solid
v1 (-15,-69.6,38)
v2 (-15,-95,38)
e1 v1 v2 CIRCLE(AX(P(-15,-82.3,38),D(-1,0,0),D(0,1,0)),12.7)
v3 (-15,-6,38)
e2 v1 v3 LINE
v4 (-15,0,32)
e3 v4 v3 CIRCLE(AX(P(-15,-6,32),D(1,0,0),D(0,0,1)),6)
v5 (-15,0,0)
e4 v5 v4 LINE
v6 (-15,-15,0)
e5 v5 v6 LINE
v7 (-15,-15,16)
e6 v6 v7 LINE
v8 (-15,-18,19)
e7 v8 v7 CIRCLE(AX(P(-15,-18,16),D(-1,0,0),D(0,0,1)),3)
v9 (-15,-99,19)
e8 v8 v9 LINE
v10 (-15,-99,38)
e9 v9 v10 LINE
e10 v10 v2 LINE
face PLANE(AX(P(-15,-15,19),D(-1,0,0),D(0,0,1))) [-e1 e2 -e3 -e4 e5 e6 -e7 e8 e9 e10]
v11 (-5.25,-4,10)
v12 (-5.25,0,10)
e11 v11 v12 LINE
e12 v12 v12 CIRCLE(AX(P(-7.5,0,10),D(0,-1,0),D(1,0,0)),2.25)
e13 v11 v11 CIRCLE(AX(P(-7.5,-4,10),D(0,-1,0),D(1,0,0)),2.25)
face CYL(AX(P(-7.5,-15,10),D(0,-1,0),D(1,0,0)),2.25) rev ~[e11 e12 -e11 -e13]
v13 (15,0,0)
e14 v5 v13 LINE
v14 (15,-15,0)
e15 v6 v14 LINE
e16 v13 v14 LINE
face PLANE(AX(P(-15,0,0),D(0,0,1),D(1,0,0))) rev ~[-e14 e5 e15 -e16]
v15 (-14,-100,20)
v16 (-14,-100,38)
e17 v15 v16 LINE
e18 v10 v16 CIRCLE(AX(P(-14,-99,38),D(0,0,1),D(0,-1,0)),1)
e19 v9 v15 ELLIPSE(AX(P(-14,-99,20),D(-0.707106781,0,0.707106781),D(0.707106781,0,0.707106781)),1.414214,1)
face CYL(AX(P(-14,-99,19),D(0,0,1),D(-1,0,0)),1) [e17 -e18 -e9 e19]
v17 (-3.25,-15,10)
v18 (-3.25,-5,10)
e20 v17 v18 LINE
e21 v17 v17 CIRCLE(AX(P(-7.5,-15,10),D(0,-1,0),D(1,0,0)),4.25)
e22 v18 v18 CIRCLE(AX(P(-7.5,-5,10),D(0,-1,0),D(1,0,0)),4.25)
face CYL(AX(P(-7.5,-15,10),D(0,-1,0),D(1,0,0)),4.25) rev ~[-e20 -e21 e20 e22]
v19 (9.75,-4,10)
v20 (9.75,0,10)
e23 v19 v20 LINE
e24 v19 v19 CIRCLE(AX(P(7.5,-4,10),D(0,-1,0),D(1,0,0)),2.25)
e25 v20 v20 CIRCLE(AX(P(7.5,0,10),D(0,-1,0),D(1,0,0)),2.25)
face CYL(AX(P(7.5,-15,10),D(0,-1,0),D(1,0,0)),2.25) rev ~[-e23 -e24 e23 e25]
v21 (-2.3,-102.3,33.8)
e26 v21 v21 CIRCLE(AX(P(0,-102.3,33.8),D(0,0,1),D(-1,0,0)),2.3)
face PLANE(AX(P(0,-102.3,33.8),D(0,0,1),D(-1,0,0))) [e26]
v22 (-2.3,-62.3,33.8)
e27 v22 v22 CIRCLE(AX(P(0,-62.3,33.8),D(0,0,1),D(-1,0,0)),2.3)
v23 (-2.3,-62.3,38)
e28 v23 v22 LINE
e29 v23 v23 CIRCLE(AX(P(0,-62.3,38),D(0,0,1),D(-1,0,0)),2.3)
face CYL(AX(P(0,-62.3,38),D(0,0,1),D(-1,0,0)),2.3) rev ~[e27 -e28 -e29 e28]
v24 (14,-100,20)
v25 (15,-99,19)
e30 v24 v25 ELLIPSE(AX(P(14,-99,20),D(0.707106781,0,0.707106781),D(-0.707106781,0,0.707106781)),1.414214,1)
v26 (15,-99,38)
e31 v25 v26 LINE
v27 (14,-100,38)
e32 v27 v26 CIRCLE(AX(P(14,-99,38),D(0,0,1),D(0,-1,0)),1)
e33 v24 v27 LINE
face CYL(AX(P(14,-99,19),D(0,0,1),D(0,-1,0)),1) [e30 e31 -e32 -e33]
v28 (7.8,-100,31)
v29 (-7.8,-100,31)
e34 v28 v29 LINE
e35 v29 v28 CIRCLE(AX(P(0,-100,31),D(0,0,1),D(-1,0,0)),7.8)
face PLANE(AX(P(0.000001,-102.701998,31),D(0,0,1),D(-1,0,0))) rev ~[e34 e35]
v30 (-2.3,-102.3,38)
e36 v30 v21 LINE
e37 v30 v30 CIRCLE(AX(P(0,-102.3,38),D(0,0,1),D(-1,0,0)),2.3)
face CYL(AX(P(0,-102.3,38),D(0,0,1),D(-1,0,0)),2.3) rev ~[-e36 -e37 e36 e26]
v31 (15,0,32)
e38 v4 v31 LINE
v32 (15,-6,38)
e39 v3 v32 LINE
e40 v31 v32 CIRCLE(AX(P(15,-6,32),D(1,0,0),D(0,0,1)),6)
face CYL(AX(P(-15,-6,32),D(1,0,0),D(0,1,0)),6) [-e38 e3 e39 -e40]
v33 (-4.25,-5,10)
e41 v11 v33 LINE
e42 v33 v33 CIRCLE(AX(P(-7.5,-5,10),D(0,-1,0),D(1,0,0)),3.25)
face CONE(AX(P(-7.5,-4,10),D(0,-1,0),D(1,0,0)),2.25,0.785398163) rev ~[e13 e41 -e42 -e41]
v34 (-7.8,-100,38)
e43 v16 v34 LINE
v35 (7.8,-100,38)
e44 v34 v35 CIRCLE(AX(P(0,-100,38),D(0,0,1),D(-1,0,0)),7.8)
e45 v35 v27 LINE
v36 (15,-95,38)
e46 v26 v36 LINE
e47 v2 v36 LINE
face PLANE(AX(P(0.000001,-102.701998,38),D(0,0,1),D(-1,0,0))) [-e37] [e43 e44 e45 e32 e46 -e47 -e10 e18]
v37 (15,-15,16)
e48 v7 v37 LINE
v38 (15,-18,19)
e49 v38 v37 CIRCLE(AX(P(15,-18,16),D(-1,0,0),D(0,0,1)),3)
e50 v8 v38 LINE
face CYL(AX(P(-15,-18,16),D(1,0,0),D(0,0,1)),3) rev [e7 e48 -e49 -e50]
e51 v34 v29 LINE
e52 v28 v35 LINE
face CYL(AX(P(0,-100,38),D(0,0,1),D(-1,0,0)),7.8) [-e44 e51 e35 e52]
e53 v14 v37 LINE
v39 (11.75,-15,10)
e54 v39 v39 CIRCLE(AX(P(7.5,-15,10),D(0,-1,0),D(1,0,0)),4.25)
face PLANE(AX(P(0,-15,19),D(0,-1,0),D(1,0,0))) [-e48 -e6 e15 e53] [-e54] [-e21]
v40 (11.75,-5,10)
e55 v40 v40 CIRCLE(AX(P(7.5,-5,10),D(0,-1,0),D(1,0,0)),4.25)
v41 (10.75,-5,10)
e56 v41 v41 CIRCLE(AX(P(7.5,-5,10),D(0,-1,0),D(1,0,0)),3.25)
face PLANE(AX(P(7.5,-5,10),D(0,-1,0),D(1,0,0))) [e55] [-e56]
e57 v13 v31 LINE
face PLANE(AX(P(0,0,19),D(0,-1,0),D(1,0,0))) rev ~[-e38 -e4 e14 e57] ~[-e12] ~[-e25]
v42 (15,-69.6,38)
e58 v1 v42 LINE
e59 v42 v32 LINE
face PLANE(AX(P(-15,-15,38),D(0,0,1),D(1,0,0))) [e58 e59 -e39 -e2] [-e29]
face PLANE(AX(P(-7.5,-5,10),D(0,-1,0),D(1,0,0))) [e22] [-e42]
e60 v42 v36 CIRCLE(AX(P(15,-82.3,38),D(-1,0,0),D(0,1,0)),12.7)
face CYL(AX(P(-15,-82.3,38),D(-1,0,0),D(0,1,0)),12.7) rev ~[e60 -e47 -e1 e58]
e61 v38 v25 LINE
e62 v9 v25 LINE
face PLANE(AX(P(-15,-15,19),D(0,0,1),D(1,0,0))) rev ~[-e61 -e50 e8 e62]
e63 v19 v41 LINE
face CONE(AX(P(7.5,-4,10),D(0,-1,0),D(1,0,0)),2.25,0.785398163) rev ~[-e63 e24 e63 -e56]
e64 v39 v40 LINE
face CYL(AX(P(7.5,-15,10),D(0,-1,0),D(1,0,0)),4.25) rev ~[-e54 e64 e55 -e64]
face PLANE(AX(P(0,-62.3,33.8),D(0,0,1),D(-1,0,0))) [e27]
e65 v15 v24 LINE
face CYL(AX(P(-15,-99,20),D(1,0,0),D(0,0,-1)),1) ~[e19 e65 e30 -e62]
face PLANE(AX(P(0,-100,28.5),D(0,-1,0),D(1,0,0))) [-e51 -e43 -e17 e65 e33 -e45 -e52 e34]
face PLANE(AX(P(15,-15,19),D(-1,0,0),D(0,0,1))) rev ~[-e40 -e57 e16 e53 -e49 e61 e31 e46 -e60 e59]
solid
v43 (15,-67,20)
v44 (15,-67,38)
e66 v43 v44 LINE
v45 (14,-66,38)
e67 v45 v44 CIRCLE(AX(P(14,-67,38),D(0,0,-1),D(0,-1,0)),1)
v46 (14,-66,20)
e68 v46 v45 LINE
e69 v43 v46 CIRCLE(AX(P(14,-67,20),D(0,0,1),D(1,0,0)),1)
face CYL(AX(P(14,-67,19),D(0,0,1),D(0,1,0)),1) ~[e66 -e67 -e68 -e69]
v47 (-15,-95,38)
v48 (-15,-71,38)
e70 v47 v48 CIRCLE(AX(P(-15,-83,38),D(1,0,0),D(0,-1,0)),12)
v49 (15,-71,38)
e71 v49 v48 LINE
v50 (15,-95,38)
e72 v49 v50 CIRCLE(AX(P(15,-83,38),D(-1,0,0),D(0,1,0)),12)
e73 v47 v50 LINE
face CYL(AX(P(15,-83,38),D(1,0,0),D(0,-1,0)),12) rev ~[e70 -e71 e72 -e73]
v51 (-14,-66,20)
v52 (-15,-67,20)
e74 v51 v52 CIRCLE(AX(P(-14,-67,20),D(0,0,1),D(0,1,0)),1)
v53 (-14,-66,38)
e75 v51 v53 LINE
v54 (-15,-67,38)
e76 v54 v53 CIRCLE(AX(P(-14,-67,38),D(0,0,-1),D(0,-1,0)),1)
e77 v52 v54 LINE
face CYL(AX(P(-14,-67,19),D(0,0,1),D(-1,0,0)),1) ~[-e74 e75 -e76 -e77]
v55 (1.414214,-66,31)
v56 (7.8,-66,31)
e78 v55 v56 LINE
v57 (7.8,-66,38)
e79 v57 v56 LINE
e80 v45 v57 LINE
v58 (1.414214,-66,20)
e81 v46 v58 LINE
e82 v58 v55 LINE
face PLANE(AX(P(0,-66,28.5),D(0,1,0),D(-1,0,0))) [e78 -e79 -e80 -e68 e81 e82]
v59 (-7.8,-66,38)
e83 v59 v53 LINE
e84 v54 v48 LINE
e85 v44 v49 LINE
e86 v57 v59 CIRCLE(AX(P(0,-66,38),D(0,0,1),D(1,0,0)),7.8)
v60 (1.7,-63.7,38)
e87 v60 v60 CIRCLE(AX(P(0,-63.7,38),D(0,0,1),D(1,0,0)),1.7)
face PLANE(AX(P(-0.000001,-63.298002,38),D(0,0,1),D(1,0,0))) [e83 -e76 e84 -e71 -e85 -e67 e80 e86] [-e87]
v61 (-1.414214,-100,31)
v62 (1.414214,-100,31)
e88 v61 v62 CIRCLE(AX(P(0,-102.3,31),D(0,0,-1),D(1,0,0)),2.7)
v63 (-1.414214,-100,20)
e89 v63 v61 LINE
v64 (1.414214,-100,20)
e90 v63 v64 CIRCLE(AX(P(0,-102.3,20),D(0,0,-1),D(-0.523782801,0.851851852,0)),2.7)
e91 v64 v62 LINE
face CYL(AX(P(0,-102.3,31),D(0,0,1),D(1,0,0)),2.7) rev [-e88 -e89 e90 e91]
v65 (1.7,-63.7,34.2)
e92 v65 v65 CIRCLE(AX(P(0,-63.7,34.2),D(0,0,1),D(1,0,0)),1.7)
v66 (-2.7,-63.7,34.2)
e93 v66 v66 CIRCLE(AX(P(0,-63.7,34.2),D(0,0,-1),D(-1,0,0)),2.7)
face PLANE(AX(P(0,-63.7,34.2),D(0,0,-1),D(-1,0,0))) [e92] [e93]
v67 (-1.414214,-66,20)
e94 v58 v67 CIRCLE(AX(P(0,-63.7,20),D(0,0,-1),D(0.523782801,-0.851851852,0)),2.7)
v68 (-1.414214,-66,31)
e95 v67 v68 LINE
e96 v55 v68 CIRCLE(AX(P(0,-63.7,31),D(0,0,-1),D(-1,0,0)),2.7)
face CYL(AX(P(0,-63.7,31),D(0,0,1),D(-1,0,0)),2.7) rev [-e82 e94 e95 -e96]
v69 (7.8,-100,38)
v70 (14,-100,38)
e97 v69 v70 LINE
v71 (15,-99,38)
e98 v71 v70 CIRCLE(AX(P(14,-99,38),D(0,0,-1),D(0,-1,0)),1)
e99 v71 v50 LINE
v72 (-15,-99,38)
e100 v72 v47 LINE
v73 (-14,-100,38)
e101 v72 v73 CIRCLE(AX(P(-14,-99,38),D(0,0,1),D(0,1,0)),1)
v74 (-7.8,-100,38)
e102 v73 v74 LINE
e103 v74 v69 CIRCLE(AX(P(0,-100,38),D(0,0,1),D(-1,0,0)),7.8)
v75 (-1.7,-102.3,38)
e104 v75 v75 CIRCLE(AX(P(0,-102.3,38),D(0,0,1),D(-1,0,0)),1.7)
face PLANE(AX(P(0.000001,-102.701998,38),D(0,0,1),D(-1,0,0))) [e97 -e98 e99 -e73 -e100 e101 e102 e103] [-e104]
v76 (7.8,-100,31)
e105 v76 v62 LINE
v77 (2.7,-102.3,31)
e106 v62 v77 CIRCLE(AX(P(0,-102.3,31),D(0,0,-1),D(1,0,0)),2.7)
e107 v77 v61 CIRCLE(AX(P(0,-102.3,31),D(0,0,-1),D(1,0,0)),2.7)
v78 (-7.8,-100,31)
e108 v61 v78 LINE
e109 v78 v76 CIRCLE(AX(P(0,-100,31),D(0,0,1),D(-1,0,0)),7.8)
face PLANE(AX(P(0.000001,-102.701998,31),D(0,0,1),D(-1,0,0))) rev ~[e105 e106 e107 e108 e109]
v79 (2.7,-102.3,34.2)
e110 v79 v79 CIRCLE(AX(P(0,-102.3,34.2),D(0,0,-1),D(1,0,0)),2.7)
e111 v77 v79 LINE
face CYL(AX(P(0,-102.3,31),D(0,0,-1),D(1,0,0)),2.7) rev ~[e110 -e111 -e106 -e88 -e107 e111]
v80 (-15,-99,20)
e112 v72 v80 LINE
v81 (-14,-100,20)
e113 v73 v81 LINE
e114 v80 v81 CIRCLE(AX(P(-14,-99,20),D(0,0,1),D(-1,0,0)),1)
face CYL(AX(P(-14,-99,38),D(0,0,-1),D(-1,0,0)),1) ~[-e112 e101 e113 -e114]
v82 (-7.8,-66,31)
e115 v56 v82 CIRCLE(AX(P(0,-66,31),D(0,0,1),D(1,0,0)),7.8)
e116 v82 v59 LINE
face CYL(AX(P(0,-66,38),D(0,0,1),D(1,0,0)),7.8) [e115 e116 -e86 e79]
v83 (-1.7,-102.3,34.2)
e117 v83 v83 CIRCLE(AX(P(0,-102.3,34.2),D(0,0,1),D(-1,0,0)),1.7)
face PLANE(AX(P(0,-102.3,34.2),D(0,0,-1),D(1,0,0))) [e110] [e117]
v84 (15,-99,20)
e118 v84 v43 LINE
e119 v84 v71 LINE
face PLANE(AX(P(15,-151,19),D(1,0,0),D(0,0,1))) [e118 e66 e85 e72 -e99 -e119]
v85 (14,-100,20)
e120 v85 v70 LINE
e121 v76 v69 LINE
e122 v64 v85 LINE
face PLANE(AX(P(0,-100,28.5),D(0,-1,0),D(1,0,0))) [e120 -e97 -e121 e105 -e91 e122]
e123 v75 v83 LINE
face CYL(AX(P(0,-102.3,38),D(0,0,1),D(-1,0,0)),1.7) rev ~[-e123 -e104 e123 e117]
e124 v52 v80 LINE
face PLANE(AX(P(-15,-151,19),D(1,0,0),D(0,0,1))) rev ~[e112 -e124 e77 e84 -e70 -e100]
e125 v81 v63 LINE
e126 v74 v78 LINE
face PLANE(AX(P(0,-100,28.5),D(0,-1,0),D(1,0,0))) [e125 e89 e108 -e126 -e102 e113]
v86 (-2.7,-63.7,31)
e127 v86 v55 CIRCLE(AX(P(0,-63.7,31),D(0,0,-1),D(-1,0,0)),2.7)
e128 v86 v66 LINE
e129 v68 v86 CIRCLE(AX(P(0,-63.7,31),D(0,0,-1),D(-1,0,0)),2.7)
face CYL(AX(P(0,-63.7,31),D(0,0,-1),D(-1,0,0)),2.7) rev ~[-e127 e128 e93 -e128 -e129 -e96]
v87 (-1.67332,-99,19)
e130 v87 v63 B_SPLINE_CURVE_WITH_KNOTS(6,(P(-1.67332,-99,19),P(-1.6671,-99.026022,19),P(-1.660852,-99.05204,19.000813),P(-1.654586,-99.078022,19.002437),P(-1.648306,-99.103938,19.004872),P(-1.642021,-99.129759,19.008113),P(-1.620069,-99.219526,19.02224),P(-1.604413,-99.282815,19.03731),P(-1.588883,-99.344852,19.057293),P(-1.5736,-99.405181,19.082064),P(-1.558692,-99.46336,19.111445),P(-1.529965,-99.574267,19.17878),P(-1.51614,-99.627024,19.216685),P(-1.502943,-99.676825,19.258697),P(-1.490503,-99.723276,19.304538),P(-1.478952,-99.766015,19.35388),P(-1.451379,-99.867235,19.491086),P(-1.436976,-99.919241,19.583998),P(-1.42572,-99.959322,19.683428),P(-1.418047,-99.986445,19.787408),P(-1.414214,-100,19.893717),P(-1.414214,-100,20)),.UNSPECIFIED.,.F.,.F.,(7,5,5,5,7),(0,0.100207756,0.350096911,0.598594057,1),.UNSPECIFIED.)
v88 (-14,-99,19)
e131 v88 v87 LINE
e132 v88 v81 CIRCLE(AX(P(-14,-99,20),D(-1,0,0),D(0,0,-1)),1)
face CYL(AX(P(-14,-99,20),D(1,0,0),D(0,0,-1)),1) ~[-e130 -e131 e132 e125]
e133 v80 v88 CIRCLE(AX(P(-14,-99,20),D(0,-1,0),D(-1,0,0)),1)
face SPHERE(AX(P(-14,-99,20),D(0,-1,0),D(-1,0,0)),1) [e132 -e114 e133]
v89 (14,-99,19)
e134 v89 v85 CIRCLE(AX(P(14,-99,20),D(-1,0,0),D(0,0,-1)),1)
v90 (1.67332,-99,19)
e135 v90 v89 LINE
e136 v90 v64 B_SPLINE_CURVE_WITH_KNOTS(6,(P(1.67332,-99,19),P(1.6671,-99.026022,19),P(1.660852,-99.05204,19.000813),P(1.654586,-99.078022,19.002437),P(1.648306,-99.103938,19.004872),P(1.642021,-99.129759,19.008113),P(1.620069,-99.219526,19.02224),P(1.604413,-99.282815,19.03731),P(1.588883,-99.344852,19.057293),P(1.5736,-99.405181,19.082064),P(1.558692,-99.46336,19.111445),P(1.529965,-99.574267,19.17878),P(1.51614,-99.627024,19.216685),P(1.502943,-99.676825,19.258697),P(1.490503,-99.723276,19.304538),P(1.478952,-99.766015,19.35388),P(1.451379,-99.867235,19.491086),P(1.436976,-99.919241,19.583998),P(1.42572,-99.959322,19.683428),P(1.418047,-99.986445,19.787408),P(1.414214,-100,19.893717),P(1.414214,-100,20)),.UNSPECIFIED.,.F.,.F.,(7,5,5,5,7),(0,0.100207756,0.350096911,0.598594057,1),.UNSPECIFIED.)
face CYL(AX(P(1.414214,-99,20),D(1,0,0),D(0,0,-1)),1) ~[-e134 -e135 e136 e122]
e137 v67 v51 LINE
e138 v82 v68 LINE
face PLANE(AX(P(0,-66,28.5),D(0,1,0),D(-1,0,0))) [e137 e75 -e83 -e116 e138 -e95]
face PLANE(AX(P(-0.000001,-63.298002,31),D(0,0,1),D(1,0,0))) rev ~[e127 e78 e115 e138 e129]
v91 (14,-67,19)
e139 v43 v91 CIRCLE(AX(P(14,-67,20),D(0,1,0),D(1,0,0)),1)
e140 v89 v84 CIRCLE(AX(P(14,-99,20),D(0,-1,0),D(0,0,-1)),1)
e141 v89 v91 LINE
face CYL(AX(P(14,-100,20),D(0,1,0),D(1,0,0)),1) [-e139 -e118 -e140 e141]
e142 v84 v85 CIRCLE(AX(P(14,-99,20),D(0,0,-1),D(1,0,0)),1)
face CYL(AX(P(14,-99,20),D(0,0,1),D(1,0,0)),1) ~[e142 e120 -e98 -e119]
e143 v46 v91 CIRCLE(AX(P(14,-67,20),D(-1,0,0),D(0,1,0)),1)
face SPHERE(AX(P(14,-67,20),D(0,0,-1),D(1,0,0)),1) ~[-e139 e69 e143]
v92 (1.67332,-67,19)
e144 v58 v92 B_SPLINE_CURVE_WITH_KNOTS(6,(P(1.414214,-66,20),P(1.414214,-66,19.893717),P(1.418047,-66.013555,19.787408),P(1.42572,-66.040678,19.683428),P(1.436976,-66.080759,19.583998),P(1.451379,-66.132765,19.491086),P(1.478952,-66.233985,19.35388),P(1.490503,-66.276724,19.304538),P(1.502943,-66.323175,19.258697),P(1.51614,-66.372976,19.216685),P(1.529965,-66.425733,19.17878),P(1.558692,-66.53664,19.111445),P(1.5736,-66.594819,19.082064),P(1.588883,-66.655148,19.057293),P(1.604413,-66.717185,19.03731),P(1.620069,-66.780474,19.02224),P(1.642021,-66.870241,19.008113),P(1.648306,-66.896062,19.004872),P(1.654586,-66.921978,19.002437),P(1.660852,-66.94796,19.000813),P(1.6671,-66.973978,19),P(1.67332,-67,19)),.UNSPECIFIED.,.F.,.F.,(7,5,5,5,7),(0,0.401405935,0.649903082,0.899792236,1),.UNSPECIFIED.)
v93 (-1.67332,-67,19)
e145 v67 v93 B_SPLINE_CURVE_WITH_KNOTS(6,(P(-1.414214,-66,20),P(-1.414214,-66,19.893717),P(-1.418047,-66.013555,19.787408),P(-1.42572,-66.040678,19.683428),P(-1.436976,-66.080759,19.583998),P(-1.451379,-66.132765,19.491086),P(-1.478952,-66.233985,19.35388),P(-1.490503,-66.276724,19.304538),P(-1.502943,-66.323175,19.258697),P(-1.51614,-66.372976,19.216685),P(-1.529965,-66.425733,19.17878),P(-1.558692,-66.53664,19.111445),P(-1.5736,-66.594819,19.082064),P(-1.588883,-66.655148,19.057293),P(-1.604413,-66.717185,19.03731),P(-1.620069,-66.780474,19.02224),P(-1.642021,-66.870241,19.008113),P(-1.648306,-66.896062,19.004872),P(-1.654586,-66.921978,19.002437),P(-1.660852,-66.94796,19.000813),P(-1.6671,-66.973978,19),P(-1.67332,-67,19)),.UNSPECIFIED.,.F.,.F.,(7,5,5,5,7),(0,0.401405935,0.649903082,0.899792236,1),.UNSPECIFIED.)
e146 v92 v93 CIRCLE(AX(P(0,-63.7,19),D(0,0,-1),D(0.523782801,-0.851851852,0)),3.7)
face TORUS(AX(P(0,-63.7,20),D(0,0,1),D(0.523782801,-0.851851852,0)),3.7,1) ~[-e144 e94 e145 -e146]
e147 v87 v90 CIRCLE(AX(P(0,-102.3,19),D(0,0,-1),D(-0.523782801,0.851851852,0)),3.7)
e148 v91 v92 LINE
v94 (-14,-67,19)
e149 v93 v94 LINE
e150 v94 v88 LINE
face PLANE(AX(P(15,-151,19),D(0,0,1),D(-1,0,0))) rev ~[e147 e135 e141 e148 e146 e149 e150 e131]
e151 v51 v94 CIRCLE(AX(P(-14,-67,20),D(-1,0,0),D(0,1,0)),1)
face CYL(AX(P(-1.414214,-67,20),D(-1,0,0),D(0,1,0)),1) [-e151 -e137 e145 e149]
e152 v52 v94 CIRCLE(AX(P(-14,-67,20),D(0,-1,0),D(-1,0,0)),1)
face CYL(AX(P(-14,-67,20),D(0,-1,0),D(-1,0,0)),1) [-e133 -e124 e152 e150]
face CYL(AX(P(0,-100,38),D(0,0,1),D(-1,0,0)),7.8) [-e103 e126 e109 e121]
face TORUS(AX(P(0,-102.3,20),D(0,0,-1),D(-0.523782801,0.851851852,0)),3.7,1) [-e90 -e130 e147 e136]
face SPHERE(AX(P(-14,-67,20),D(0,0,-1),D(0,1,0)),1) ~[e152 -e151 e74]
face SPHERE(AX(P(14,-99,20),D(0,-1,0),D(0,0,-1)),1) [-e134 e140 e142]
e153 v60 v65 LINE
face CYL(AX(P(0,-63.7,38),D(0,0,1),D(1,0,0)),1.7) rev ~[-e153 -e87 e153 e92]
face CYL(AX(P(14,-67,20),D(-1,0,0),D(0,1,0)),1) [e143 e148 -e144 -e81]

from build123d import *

# Parameters (mm, degrees)
SKETCH_W               = 30
SKETCH_H               = 38
PAD_DEPTH              = 15
SKETCH001_W            = 30
SKETCH001_H            = 19
PAD001_DEPTH           = 85
POCKET_DEPTH           = 30.001
SKETCH004_R            = 2.25
POCKET001_DEPTH        = 15.001
SKETCH005_R            = 4.25
POCKET002_DEPTH        = 10
PAD002_DEPTH           = 7
SKETCH007_R            = 2.3
POCKET003_DEPTH        = 4.2
SKETCH008_R            = 2.3
POCKET004_DEPTH        = 4.2
FILLET_R               = 3
FILLET014_R            = 6
FILLET015_R            = 1
CHAMFER_SIZE           = 1
BOX001_W               = 30
BOX001_H               = 83
BOX001_DEPTH           = 38
SKETCH017_W            = 30
SKETCH017_H            = 38
PAD006_DEPTH           = 15
SKETCH018_W            = 30
SKETCH018_H            = 19
PAD007_DEPTH           = 85
POCKET010_DEPTH        = 30.001
SKETCH020_R            = 2.25
POCKET011_DEPTH        = 15.001
SKETCH021_R            = 4.25
POCKET012_DEPTH        = 10
PAD008_DEPTH           = 7
SKETCH023_R            = 2.7
POCKET013_DEPTH        = 3.2
POCKET013_DEPTH_BACK   = -12
SKETCH024_R            = 1.7
POCKET014_DEPTH        = 38.001
CUT001_PLACEMENT_ANGLE = 180
BOX_W                  = 30
BOX_H                  = 83
BOX_DEPTH              = 38
SKETCH009_W            = 30
SKETCH009_H            = 38
PAD003_DEPTH           = 15
SKETCH010_W            = 30
SKETCH010_H            = 19
PAD004_DEPTH           = 85
POCKET005_DEPTH        = 30.001
SKETCH012_R            = 2.25
POCKET006_DEPTH        = 15.001
SKETCH013_R            = 4.25
POCKET007_DEPTH        = 10
PAD005_DEPTH           = 7
SKETCH015_R            = 2.7
POCKET008_DEPTH        = 3.2
POCKET008_DEPTH_BACK   = -12
SKETCH016_R            = 1.7
POCKET009_DEPTH        = 38.001
FILLET016_R            = 1
FILLET017_R            = 1
FILLET018_R            = 1


with BuildPart() as bracket:
    # Sketch → Pad (new body)
    with BuildSketch(Plane.XZ):
        with Locations((0, 19)):
            Rectangle(SKETCH_W, SKETCH_H)
    extrude(amount=PAD_DEPTH)

    # Sketch001 (on Face6 of Pad) → Pad001 (join)
    with BuildSketch(Plane.XZ.offset(15)):
        with Locations((0, 28.5)):
            Rectangle(SKETCH001_W, SKETCH001_H)
    extrude(amount=PAD001_DEPTH)

    # Sketch003 (on Face6 of Pad001) → Pocket (cut, through all)
    with BuildSketch(Plane(origin=(-15, 0, 0), x_dir=(0, 0, -1), z_dir=(-1, 0, 0))):
        with BuildLine():
            ThreePointArc((-38, 69.6), (-25.3, 82.3), (-38, 95))
            Line((-38, 69.6), (-38, 95))
        make_face()
    extrude(amount=-POCKET_DEPTH, mode=Mode.SUBTRACT)

    # Sketch004 (on Face5 of Pocket) → Pocket001 (cut, through all)
    with BuildSketch(Plane.XZ.offset(15)):
        with Locations((-7.5, 10)):
            Circle(SKETCH004_R)
        with Locations((7.5, 10)):
            Circle(SKETCH004_R)
    extrude(amount=-POCKET001_DEPTH, mode=Mode.SUBTRACT)

    # Sketch005 (on Face5 of Pocket001) → Pocket002 (cut)
    with BuildSketch(Plane.XZ.offset(15)):
        with Locations((-7.5, 10)):
            Circle(SKETCH005_R)
        with Locations((7.5, 10)):
            Circle(SKETCH005_R)
    extrude(amount=-POCKET002_DEPTH, mode=Mode.SUBTRACT)

    # Sketch006 (on Face8 of Pocket002) → Pad002 (join)
    with BuildSketch(Plane(origin=(0, 0, 38), x_dir=(-1, 0, 0), z_dir=(0, 0, 1))):
        with BuildLine():
            ThreePointArc((7.8, 100), (-1e-06, 107.8), (-7.8, 99.999997))
            Line((-7.8, 99.999997), (7.8, 100))
        make_face()
    extrude(amount=-PAD002_DEPTH)

    # Sketch007 (on Face18 of Pad002) → Pocket003 (cut)
    with BuildSketch(Plane(origin=(0, 0, 38), x_dir=(-1, 0, 0), z_dir=(0, 0, 1))):
        with Locations((0, 102.3)):
            Circle(SKETCH007_R)
    extrude(amount=-POCKET003_DEPTH, mode=Mode.SUBTRACT)

    # Sketch008 (on Face6 of Pocket003) → Pocket004 (cut)
    with BuildSketch(Plane(origin=(0, 0, 38), x_dir=(-1, 0, 0), z_dir=(0, 0, 1))):
        with Locations((0, 62.3)):
            Circle(SKETCH008_R)
    extrude(amount=-POCKET004_DEPTH, mode=Mode.SUBTRACT)

    # Fillet
    fillet_edges = [bracket.edges().sort_by_distance(p)[0] for p in [
        (0, -15, 19),
    ]]
    fillet(fillet_edges, radius=FILLET_R)

    # Fillet014
    fillet014_edges = [bracket.edges().sort_by_distance(p)[0] for p in [
        (0, 0, 38),
    ]]
    fillet(fillet014_edges, radius=FILLET014_R)

    # Fillet015
    fillet015_edges = [bracket.edges().sort_by_distance(p)[0] for p in [
        (15, -100, 28.5),
        (-15, -100, 28.5),
        (0, -100, 19),
    ]]
    fillet(fillet015_edges, radius=FILLET015_R)

    # Chamfer
    chamfer_edges = [bracket.edges().sort_by_distance(p)[0] for p in [
        (-9.75, -5, 10),
        (5.25, -5, 10),
    ]]
    chamfer(chamfer_edges, length=CHAMFER_SIZE)


with BuildPart() as cube001:
    # Box001 → Box001 (new body)
    with BuildSketch(Plane(origin=(-15, -83, 0), x_dir=(1, 0, 0), z_dir=(0, 0, 1))):
        with Locations((15, 41.5)):
            Rectangle(BOX001_W, BOX001_H)
    extrude(amount=BOX001_DEPTH)


with BuildPart() as cut001:
    # Sketch017 → Pad006 (new body)
    with BuildSketch(Plane.XZ):
        with Locations((0, 19)):
            Rectangle(SKETCH017_W, SKETCH017_H)
    extrude(amount=PAD006_DEPTH)

    # Sketch018 (on Face6 of Pad006) → Pad007 (join)
    with BuildSketch(Plane.XZ.offset(15)):
        with Locations((0, 28.5)):
            Rectangle(SKETCH018_W, SKETCH018_H)
    extrude(amount=PAD007_DEPTH)

    # Sketch019 (on Face6 of Pad007) → Pocket010 (cut, through all)
    with BuildSketch(Plane(origin=(-15, 0, 0), x_dir=(0, 0, -1), z_dir=(-1, 0, 0))):
        with BuildLine():
            ThreePointArc((-38, 71), (-26, 83), (-38, 95))
            Line((-38, 71), (-38, 95))
        make_face()
    extrude(amount=-POCKET010_DEPTH, mode=Mode.SUBTRACT)

    # Sketch020 (on Face5 of Pocket010) → Pocket011 (cut, through all)
    with BuildSketch(Plane.XZ.offset(15)):
        with Locations((-7.5, 10)):
            Circle(SKETCH020_R)
        with Locations((7.5, 10)):
            Circle(SKETCH020_R)
    extrude(amount=-POCKET011_DEPTH, mode=Mode.SUBTRACT)

    # Sketch021 (on Face5 of Pocket011) → Pocket012 (cut)
    with BuildSketch(Plane.XZ.offset(15)):
        with Locations((-7.5, 10)):
            Circle(SKETCH021_R)
        with Locations((7.5, 10)):
            Circle(SKETCH021_R)
    extrude(amount=-POCKET012_DEPTH, mode=Mode.SUBTRACT)

    # Sketch022 (on Face8 of Pocket012) → Pad008 (join)
    with BuildSketch(Plane(origin=(0, 0, 38), x_dir=(-1, 0, 0), z_dir=(0, 0, 1))):
        with BuildLine():
            ThreePointArc((7.8, 100), (-1e-06, 107.8), (-7.8, 99.999997))
            Line((-7.8, 99.999997), (7.8, 100))
        make_face()
    extrude(amount=-PAD008_DEPTH)

    # Sketch023 (on Face15 of Pad008) → Pocket013 (cut, two sides)
    with BuildSketch(Plane(origin=(0, 0, 31), x_dir=(1, 0, 0), z_dir=(0, 0, -1))) as pocket013_sk:
        with Locations((0, 102.3)):
            Circle(SKETCH023_R)
    extrude(amount=-POCKET013_DEPTH, mode=Mode.SUBTRACT)
    extrude(pocket013_sk.sketch, amount=-POCKET013_DEPTH_BACK, mode=Mode.SUBTRACT)

    # Sketch024 (on Face8 of Pocket013) → Pocket014 (cut, through all)
    with BuildSketch(Plane(origin=(0, 0, 38), x_dir=(-1, 0, 0), z_dir=(0, 0, 1))):
        with Locations((0, 102.3)):
            Circle(SKETCH024_R)
    extrude(amount=-POCKET014_DEPTH, mode=Mode.SUBTRACT)

    # Cut001: cut Cube001
    add(cube001.part, mode=Mode.SUBTRACT)


with BuildPart() as cut001_1:
    # Cut001 placement: moved
    add(cut001.part.moved(Location((0, -166, 0))).rotate(Axis((0, -166, 0), (0, 0, 1)), CUT001_PLACEMENT_ANGLE))


with BuildPart() as cube:
    # Box → Box (new body)
    with BuildSketch(Plane(origin=(-15, -83, 0), x_dir=(1, 0, 0), z_dir=(0, 0, 1))):
        with Locations((15, 41.5)):
            Rectangle(BOX_W, BOX_H)
    extrude(amount=BOX_DEPTH)


with BuildPart() as clamp001:
    # Sketch009 → Pad003 (new body)
    with BuildSketch(Plane.XZ):
        with Locations((0, 19)):
            Rectangle(SKETCH009_W, SKETCH009_H)
    extrude(amount=PAD003_DEPTH)

    # Sketch010 (on Face6 of Pad003) → Pad004 (join)
    with BuildSketch(Plane.XZ.offset(15)):
        with Locations((0, 28.5)):
            Rectangle(SKETCH010_W, SKETCH010_H)
    extrude(amount=PAD004_DEPTH)

    # Sketch011 (on Face6 of Pad004) → Pocket005 (cut, through all)
    with BuildSketch(Plane(origin=(-15, 0, 0), x_dir=(0, 0, -1), z_dir=(-1, 0, 0))):
        with BuildLine():
            ThreePointArc((-38, 71), (-26, 83), (-38, 95))
            Line((-38, 71), (-38, 95))
        make_face()
    extrude(amount=-POCKET005_DEPTH, mode=Mode.SUBTRACT)

    # Sketch012 (on Face5 of Pocket005) → Pocket006 (cut, through all)
    with BuildSketch(Plane.XZ.offset(15)):
        with Locations((-7.5, 10)):
            Circle(SKETCH012_R)
        with Locations((7.5, 10)):
            Circle(SKETCH012_R)
    extrude(amount=-POCKET006_DEPTH, mode=Mode.SUBTRACT)

    # Sketch013 (on Face5 of Pocket006) → Pocket007 (cut)
    with BuildSketch(Plane.XZ.offset(15)):
        with Locations((-7.5, 10)):
            Circle(SKETCH013_R)
        with Locations((7.5, 10)):
            Circle(SKETCH013_R)
    extrude(amount=-POCKET007_DEPTH, mode=Mode.SUBTRACT)

    # Sketch014 (on Face8 of Pocket007) → Pad005 (join)
    with BuildSketch(Plane(origin=(0, 0, 38), x_dir=(-1, 0, 0), z_dir=(0, 0, 1))):
        with BuildLine():
            ThreePointArc((7.8, 100), (-1e-06, 107.8), (-7.8, 99.999997))
            Line((-7.8, 99.999997), (7.8, 100))
        make_face()
    extrude(amount=-PAD005_DEPTH)

    # Sketch015 (on Face15 of Pad005) → Pocket008 (cut, two sides)
    with BuildSketch(Plane(origin=(0, 0, 31), x_dir=(1, 0, 0), z_dir=(0, 0, -1))) as pocket008_sk:
        with Locations((0, 102.3)):
            Circle(SKETCH015_R)
    extrude(amount=-POCKET008_DEPTH, mode=Mode.SUBTRACT)
    extrude(pocket008_sk.sketch, amount=-POCKET008_DEPTH_BACK, mode=Mode.SUBTRACT)

    # Sketch016 (on Face8 of Pocket008) → Pocket009 (cut, through all)
    with BuildSketch(Plane(origin=(0, 0, 38), x_dir=(-1, 0, 0), z_dir=(0, 0, 1))):
        with Locations((0, 102.3)):
            Circle(SKETCH016_R)
    extrude(amount=-POCKET009_DEPTH, mode=Mode.SUBTRACT)

    # Cut: cut Cube
    add(cube.part, mode=Mode.SUBTRACT)

    # Fusion: union Cut001
    add(cut001_1.part)

    # Fillet016
    fillet016_edges = [clamp001.edges().sort_by_distance(p)[0] for p in [
        (15, -66, 28.5),
        (-15, -66, 28.5),
    ]]
    fillet(fillet016_edges, radius=FILLET016_R)

    # Fillet017
    fillet017_edges = [clamp001.edges().sort_by_distance(p)[0] for p in [
        (-7.707107, -66, 19),
        (0, -66.4, 19),
        (7.707107, -66, 19),
    ]]
    fillet(fillet017_edges, radius=FILLET017_R)

    # Fillet018
    fillet018_edges = [clamp001.edges().sort_by_distance(p)[0] for p in [
        (7.707107, -100, 19),
        (-7.707107, -100, 19),
        (0, -99.6, 19),
    ]]
    fillet(fillet018_edges, radius=FILLET018_R)


solid = Compound([bracket.part, clamp001.part])
